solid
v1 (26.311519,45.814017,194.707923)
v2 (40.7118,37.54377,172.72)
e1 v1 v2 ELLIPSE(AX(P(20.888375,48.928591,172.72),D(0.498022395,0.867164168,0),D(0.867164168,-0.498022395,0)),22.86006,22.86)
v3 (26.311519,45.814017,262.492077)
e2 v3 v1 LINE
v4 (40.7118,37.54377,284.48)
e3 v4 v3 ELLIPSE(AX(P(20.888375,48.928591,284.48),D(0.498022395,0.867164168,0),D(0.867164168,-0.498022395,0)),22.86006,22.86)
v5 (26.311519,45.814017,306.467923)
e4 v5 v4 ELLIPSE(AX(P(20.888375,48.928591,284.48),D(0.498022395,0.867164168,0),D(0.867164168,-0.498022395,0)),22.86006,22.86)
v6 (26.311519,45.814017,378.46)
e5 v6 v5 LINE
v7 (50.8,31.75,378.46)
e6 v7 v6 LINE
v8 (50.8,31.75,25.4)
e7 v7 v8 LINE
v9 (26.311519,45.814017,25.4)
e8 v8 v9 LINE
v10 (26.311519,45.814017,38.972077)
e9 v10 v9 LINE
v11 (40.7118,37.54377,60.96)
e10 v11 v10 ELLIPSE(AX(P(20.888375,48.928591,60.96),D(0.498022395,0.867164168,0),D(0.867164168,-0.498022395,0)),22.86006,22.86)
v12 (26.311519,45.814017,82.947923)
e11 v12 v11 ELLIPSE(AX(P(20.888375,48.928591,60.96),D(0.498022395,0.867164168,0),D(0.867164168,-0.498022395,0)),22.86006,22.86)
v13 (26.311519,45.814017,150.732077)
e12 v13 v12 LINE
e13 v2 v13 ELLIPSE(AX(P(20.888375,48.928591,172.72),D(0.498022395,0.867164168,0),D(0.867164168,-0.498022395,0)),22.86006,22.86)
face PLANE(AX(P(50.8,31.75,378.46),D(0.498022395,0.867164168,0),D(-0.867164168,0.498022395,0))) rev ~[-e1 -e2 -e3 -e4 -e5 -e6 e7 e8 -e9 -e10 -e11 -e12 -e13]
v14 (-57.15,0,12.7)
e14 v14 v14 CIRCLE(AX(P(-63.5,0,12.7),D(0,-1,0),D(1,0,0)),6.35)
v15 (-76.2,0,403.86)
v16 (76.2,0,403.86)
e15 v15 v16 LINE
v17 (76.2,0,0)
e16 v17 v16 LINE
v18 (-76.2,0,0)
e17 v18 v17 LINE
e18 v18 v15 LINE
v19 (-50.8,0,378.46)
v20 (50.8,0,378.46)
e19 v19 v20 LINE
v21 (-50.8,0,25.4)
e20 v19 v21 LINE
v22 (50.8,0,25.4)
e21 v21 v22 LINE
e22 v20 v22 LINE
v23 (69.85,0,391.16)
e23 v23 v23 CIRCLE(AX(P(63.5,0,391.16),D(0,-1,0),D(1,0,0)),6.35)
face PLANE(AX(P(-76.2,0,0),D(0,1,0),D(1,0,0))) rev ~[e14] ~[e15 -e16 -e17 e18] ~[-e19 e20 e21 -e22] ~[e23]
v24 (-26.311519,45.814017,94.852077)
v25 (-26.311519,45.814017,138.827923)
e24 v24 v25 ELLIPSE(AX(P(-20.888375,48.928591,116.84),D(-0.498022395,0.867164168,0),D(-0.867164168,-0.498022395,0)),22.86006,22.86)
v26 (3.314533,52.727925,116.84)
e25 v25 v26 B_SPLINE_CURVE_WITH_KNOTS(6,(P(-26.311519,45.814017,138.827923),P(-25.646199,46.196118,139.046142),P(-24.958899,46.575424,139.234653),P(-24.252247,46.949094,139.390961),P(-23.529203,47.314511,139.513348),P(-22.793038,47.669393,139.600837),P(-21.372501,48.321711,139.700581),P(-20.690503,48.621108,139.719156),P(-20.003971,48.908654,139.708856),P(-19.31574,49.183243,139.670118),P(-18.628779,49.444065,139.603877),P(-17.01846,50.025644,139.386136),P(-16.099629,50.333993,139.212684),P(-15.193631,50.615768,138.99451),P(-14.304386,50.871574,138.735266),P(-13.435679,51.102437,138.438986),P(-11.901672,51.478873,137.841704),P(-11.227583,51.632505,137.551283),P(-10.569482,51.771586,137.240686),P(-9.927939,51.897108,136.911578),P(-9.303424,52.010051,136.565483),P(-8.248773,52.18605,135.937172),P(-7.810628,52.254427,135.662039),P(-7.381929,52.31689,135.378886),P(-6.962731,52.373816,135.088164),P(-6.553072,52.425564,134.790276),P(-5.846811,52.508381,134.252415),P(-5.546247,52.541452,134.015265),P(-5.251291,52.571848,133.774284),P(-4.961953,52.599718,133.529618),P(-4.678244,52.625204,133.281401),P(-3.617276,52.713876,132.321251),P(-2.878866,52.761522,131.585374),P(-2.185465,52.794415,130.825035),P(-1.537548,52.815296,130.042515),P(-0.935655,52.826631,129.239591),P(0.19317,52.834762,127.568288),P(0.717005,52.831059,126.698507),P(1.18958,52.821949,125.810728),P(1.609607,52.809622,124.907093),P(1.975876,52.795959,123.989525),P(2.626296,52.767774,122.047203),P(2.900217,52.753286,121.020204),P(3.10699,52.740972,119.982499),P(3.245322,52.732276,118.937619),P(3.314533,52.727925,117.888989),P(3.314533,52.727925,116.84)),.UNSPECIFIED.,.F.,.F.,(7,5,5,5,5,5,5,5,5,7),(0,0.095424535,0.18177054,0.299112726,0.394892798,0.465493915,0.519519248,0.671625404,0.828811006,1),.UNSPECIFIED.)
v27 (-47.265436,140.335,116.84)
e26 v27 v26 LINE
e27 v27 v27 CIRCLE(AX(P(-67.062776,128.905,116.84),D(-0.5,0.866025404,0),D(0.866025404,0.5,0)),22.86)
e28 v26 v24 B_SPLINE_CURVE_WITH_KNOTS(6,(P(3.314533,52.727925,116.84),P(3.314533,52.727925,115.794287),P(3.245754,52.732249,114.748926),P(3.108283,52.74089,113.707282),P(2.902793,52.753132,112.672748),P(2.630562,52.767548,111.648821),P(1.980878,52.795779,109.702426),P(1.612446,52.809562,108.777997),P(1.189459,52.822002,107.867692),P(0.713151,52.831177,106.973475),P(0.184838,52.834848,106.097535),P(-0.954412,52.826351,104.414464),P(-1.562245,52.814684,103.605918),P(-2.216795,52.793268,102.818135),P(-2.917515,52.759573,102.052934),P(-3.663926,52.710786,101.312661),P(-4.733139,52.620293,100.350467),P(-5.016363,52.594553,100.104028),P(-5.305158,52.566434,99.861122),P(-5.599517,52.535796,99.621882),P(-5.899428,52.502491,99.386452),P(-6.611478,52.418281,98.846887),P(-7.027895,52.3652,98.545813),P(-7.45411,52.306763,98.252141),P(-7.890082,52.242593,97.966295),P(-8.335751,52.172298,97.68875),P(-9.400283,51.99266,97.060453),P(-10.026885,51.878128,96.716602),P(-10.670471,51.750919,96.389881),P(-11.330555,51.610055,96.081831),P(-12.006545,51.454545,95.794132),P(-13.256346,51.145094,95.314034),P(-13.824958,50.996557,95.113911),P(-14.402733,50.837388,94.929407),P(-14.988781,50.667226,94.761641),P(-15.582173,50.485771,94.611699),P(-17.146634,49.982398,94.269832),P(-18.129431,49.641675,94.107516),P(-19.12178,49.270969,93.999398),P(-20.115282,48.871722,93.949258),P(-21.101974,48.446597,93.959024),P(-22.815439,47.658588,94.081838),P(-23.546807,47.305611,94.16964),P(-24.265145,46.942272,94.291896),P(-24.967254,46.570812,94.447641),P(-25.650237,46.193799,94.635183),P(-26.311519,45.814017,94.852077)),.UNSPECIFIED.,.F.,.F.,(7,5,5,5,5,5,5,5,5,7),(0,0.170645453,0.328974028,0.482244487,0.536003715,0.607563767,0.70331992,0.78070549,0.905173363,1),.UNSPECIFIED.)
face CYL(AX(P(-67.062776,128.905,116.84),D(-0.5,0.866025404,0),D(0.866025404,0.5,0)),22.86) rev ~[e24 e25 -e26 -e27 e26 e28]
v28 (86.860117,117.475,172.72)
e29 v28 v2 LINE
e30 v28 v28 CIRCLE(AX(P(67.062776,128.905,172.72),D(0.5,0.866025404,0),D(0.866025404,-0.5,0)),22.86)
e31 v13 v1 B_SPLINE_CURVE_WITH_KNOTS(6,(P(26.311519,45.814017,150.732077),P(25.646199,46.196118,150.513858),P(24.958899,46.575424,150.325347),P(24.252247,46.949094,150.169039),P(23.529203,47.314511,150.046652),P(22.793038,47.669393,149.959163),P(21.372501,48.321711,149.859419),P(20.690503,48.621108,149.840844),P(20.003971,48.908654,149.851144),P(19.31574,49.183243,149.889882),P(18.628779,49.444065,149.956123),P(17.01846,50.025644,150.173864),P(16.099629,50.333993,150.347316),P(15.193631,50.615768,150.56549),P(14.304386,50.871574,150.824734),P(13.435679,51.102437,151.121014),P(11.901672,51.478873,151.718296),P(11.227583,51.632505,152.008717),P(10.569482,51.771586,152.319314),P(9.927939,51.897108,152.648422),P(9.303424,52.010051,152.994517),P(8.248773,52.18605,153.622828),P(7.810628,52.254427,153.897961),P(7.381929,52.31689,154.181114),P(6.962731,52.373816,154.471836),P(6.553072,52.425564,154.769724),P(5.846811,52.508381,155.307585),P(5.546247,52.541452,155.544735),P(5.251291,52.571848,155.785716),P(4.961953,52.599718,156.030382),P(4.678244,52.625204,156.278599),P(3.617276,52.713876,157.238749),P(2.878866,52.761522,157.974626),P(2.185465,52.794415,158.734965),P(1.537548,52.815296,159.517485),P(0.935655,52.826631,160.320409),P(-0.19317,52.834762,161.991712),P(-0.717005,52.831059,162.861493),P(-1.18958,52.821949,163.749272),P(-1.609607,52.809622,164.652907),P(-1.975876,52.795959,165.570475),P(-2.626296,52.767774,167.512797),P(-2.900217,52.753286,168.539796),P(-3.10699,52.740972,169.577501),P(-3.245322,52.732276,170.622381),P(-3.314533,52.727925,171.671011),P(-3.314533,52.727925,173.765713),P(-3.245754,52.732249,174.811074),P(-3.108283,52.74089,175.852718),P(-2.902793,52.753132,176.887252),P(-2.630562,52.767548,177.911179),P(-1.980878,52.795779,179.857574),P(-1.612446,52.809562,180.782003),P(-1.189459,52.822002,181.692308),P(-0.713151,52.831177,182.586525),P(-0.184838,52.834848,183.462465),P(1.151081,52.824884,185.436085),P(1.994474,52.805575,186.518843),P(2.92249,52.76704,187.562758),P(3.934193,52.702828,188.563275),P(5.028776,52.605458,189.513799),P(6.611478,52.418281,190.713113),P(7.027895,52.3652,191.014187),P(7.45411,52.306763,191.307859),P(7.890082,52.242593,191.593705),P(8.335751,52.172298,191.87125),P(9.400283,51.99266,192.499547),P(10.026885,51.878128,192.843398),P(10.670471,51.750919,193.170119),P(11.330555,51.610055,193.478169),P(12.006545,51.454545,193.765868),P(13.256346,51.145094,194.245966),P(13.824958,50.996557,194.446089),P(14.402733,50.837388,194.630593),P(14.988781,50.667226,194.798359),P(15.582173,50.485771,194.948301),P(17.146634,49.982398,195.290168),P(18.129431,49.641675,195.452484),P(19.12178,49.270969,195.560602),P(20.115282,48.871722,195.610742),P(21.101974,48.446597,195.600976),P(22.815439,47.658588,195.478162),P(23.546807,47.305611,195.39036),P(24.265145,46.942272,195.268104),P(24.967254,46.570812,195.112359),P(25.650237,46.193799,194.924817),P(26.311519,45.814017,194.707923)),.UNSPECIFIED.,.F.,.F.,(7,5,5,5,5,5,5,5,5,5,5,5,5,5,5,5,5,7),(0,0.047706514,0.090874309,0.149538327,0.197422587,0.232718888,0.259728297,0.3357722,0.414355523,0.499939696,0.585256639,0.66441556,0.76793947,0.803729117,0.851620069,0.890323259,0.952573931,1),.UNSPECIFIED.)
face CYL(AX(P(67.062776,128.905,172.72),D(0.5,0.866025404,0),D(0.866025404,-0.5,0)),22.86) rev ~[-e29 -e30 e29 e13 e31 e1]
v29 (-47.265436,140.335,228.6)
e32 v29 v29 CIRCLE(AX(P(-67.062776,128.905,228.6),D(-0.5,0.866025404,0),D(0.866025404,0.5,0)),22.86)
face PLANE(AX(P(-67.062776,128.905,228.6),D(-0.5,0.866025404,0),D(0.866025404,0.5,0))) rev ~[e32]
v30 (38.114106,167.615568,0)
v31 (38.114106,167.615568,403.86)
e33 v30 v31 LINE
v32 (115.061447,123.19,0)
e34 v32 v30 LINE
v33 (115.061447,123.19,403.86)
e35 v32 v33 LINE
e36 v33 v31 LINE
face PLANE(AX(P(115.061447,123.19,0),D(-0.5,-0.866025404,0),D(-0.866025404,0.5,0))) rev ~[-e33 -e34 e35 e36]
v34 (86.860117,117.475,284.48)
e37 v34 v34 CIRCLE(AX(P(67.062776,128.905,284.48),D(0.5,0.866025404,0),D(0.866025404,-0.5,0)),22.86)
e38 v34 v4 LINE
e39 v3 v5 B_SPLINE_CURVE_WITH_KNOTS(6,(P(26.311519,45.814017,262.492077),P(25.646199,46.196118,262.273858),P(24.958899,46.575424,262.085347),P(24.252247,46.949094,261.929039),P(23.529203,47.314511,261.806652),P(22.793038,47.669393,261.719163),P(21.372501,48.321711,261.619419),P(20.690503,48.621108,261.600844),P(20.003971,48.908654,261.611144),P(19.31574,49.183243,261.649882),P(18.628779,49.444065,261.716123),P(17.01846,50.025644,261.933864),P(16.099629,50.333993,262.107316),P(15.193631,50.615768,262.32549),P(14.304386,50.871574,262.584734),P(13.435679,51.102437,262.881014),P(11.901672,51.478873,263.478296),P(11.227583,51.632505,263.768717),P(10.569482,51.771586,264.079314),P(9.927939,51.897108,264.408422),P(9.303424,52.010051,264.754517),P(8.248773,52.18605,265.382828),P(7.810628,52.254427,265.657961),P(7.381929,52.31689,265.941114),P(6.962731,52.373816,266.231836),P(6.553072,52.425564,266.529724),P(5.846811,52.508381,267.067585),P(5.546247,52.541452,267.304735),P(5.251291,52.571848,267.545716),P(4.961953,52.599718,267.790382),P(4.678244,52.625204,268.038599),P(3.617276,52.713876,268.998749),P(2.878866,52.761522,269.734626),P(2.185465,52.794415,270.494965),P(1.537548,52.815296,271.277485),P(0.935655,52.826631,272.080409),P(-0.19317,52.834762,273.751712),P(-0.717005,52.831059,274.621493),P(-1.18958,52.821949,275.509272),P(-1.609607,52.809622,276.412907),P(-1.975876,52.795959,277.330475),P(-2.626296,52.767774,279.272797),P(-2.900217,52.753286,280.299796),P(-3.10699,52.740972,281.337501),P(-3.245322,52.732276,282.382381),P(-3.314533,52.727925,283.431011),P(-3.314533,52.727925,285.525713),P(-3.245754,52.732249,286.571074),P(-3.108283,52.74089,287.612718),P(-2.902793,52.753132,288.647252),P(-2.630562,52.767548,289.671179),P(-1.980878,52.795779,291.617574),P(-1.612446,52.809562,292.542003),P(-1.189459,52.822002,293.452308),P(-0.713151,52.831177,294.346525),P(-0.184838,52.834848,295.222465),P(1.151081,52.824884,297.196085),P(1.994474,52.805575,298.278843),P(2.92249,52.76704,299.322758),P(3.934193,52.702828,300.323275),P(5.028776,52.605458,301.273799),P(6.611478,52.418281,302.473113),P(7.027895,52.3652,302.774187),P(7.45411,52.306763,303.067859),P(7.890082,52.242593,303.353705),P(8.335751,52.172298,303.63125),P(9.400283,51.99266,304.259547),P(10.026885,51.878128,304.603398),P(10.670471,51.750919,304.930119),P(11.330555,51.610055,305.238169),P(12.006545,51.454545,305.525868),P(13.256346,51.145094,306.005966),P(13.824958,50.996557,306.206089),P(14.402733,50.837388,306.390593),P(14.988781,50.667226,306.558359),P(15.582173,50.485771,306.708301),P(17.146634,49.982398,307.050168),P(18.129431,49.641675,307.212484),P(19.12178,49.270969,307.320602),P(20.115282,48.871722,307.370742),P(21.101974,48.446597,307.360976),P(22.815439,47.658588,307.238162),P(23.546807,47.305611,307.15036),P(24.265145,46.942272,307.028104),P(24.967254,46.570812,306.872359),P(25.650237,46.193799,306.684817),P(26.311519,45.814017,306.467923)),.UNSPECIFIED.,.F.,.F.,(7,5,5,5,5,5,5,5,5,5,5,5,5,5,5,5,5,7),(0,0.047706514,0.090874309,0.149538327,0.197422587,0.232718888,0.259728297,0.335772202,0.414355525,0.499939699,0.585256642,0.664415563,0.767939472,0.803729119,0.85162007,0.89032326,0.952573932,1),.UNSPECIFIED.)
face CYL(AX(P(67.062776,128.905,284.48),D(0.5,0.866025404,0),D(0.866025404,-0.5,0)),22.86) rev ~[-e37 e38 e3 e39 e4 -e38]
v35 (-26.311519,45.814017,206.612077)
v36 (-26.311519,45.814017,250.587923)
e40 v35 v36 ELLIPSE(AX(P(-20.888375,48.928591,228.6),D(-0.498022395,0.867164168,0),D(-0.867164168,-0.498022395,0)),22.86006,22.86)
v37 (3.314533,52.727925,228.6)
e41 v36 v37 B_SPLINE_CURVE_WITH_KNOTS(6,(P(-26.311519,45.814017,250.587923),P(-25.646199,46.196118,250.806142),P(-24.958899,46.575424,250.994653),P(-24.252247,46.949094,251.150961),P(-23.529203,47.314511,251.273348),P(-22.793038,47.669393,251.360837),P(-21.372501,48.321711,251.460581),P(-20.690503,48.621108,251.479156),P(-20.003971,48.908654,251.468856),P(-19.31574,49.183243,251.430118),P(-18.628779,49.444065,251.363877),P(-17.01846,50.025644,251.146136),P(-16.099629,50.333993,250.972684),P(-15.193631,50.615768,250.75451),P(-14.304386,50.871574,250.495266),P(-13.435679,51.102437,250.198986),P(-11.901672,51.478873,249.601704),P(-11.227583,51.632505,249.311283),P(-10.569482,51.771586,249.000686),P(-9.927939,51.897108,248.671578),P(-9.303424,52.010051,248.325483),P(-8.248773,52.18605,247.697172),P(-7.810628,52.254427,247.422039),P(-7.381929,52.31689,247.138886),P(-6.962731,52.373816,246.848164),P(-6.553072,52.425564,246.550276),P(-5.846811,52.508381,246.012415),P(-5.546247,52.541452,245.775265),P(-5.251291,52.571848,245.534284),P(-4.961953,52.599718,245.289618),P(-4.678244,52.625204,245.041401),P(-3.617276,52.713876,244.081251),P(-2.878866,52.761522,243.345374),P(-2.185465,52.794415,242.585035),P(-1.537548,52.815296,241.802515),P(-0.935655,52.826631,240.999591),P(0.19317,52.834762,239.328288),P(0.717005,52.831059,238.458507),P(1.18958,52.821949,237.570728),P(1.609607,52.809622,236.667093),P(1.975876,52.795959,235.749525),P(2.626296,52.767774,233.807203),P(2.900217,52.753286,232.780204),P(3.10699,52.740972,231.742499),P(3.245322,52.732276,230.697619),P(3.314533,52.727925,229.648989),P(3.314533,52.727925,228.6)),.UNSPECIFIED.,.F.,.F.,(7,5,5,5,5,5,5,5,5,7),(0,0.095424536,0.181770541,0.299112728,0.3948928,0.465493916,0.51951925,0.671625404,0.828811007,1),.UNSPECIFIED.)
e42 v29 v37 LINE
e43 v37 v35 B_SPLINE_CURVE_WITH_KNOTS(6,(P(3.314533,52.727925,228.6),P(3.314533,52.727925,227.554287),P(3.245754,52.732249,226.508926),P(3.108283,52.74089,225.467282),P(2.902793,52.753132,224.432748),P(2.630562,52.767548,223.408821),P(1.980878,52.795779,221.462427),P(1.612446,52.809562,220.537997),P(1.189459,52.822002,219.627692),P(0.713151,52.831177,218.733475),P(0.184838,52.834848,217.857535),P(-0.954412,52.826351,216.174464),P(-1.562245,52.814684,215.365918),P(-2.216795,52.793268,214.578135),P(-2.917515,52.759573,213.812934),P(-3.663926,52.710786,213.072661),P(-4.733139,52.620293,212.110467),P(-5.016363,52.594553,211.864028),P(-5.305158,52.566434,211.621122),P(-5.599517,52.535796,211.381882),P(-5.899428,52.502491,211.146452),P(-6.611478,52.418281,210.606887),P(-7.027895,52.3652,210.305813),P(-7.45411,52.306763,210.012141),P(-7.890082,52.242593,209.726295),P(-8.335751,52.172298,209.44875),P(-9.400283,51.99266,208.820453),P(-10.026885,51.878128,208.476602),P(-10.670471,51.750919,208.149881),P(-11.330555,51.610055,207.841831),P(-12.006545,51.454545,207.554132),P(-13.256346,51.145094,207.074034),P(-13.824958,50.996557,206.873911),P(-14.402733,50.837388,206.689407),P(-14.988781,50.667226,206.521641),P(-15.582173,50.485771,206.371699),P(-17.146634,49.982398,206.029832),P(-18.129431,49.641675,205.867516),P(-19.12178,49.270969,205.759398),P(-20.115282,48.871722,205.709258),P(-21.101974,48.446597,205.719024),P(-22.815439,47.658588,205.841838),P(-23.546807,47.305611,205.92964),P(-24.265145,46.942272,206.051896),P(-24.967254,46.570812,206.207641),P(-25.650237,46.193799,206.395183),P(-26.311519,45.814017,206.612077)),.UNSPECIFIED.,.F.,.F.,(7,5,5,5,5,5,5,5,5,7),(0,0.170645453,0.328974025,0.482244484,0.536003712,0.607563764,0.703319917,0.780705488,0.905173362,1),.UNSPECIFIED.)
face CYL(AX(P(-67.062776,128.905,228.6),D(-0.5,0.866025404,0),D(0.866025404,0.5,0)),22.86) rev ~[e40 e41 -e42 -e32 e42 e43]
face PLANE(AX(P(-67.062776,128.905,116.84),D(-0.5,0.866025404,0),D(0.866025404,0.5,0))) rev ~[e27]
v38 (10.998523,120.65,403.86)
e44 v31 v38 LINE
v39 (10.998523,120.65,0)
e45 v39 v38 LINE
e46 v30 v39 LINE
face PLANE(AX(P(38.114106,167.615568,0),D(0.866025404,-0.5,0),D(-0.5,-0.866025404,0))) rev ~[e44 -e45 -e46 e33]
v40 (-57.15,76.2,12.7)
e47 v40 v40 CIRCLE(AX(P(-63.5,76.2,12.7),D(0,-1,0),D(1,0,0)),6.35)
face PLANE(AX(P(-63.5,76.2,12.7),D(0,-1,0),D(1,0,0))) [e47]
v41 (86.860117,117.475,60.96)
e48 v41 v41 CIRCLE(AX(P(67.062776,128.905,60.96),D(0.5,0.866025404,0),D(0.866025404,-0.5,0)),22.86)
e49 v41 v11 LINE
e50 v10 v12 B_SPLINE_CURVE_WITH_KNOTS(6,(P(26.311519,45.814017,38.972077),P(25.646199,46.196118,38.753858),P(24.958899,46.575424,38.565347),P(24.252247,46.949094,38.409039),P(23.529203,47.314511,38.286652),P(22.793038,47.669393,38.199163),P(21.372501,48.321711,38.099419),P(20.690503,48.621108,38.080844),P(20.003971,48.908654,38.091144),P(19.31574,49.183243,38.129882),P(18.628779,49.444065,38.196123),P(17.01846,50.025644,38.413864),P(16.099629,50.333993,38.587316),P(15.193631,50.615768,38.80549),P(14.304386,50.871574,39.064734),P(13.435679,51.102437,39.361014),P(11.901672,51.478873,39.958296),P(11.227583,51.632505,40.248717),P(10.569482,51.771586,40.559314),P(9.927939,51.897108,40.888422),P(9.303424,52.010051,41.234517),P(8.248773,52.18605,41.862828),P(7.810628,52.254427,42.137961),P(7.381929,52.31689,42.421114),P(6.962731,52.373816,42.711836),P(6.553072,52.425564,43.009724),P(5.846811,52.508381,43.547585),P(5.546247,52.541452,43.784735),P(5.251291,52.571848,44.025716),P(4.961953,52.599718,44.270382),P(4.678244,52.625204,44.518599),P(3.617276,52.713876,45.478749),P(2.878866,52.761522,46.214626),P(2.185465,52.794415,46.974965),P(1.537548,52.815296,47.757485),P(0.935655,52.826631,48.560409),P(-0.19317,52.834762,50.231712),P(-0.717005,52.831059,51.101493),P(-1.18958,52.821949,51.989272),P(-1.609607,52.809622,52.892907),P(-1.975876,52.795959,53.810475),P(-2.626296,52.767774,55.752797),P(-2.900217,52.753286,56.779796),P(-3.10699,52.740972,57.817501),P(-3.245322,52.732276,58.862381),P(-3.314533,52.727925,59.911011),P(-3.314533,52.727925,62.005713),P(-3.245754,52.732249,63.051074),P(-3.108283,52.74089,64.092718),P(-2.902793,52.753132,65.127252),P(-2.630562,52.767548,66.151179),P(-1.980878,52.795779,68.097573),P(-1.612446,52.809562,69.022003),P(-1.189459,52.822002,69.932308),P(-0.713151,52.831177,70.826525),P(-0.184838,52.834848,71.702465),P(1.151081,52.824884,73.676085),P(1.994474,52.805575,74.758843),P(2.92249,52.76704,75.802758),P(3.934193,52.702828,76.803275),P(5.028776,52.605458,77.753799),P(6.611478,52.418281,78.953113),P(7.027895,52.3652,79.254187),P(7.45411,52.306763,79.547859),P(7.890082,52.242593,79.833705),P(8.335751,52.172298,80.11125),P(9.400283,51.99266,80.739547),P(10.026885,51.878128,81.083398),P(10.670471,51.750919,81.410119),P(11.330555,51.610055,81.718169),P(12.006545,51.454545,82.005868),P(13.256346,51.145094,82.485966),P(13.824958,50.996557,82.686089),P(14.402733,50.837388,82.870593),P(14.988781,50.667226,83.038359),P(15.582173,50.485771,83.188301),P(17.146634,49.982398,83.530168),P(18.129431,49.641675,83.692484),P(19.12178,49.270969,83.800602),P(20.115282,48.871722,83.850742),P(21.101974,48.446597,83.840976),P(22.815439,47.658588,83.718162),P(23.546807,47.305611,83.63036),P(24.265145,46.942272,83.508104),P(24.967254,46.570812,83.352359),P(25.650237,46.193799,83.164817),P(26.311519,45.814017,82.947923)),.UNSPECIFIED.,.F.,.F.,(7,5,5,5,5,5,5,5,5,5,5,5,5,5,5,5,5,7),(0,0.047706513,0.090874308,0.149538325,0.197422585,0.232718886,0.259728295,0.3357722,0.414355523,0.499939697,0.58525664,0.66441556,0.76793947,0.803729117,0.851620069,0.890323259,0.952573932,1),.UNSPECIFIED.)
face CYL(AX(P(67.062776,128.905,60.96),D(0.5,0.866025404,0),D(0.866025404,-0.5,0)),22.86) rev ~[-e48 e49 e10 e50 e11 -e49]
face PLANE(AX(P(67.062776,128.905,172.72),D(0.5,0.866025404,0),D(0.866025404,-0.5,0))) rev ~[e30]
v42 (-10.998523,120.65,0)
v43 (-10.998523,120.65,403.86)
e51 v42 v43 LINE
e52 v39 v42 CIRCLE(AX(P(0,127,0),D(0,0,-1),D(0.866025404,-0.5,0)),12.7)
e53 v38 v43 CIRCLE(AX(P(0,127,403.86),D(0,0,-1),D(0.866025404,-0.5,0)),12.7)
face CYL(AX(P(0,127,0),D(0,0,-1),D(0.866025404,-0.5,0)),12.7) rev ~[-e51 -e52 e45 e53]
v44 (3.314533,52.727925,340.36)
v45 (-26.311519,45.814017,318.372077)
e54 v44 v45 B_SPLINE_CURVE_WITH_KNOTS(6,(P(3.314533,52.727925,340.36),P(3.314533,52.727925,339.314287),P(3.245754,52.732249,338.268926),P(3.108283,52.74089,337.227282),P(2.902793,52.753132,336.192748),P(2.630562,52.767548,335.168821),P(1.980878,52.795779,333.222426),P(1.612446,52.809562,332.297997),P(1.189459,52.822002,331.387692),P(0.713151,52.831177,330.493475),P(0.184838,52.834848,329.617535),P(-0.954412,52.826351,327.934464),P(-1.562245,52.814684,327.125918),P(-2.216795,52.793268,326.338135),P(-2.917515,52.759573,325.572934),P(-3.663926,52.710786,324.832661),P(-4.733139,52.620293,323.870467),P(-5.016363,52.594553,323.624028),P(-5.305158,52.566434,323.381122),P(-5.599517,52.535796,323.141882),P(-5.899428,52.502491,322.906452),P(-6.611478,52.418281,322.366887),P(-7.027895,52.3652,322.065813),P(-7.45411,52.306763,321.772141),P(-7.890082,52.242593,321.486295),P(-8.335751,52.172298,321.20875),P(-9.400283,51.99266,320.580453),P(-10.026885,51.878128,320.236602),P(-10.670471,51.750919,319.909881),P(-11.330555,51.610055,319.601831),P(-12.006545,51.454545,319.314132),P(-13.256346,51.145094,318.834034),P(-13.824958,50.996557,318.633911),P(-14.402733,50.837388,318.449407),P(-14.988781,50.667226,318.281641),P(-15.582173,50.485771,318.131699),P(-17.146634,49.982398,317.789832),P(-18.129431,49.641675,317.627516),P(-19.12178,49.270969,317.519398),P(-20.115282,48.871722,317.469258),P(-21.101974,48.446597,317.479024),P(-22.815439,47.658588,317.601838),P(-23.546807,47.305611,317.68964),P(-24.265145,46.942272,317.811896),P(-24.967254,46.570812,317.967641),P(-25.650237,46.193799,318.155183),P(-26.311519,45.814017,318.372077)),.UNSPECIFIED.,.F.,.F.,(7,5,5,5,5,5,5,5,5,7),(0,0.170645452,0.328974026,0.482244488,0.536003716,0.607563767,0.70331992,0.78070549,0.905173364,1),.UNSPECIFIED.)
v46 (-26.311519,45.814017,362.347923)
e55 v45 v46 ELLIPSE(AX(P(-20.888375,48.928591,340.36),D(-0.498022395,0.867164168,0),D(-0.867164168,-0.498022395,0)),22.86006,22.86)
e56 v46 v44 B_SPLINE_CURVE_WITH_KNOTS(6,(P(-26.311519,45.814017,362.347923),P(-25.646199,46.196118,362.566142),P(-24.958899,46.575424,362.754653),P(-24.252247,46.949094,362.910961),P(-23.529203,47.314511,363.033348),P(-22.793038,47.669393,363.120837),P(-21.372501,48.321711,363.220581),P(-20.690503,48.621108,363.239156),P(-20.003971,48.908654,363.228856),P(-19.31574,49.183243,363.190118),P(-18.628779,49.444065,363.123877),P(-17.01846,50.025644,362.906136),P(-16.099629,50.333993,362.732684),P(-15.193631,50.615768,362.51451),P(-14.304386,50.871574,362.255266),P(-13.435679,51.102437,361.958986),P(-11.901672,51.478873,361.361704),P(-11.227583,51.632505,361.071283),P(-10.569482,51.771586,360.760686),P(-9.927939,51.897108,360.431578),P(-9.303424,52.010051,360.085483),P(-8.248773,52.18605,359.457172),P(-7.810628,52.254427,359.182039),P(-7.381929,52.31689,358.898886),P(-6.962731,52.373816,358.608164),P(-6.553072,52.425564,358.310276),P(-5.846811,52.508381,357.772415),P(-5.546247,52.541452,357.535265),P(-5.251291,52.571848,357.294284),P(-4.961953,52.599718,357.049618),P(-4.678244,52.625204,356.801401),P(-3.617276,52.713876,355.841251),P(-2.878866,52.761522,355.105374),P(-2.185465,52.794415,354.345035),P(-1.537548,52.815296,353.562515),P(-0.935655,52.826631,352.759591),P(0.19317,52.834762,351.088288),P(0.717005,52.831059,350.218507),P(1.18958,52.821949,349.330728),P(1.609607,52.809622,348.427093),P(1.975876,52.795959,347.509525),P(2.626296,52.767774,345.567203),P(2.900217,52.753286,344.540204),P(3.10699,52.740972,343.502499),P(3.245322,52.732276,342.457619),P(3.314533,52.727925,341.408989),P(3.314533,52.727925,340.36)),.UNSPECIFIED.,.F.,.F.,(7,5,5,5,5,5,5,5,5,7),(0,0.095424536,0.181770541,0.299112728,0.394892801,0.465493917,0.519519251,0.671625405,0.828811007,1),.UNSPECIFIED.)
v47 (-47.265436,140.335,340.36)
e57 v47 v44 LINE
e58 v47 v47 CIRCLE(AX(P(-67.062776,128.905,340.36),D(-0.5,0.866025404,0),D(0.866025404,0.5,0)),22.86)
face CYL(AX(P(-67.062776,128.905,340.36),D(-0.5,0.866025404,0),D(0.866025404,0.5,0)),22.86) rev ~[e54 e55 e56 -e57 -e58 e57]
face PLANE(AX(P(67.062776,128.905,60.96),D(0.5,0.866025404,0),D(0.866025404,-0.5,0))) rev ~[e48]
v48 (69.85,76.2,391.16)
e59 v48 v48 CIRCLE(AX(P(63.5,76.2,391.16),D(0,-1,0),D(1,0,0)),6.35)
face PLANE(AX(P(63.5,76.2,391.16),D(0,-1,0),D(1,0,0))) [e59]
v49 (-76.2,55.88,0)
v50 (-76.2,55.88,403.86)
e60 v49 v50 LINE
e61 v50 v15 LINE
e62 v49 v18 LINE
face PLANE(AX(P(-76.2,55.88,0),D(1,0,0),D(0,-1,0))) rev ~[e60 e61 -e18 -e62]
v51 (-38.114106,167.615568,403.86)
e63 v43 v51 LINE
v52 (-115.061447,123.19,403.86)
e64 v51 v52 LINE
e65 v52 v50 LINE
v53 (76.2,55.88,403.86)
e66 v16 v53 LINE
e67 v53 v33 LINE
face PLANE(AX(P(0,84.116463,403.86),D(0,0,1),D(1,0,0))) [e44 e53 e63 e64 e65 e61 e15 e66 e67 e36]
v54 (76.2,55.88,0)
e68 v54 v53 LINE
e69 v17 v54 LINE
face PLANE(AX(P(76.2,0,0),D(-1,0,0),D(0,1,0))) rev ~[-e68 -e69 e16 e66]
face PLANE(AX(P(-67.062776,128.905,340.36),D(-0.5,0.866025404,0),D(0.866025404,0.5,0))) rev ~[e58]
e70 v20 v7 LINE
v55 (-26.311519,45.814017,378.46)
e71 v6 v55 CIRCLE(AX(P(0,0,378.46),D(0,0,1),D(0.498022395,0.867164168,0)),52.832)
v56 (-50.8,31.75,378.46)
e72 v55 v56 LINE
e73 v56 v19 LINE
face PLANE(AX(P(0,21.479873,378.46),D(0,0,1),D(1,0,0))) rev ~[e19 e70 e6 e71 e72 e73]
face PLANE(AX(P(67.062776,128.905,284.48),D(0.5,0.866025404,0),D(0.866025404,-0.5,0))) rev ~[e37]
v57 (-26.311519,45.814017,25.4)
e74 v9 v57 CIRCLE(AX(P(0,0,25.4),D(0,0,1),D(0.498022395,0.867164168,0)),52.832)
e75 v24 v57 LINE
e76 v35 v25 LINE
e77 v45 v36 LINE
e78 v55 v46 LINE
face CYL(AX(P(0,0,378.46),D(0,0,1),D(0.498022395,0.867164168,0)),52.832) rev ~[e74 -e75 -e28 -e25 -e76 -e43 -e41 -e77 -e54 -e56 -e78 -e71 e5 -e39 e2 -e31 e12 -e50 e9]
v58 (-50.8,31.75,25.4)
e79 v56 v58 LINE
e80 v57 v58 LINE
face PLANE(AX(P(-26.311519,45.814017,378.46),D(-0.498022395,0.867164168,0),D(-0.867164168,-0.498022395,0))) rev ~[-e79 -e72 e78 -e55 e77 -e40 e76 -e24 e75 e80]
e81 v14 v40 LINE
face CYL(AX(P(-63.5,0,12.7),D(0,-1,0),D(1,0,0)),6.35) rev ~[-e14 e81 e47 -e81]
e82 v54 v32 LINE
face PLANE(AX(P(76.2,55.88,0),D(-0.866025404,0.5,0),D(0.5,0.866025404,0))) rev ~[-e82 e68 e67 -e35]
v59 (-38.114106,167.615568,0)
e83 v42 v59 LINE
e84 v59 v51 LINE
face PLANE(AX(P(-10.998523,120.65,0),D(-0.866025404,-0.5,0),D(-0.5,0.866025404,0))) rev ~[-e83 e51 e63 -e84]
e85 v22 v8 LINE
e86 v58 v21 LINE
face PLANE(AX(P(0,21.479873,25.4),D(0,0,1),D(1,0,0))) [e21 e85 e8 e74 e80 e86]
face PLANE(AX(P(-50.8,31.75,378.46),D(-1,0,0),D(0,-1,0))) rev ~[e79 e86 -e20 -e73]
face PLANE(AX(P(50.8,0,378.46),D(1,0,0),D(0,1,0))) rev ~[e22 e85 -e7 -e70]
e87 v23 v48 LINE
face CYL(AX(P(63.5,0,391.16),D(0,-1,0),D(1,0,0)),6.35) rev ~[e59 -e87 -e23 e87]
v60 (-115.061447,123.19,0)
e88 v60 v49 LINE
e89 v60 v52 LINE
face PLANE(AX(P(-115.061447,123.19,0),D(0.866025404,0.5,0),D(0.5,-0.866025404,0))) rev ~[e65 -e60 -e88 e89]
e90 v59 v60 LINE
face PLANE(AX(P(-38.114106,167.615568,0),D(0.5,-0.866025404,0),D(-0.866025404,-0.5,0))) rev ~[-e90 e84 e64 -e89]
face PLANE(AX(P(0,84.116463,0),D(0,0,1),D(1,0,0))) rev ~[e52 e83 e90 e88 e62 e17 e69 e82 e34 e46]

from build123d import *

# Parameters (mm, degrees)
BOSS_EXTRUDE1_DEPTH = 403.86
CUT_EXTRUDE1_START  = -19.05
SKETCH3_R           = 22.86
CUT_EXTRUDE1_DEPTH  = 403.86
CUT_EXTRUDE2_START  = -19.05
SKETCH2_R           = 22.86
CUT_EXTRUDE2_DEPTH  = 403.86
CUT_EXTRUDE3_START  = -25.4
CUT_EXTRUDE3_DEPTH  = 353.06
SKETCH7_R           = 6.35
CUT_EXTRUDE4_DEPTH  = 76.2


with BuildPart() as part:
    # Sketch1 → Boss-Extrude1 (new body)
    with BuildSketch(Plane.XY):
        with BuildLine():
            ThreePointArc((10.998522628, 120.65), (0, 114.3), (-10.998522628, 120.65))
            Line((-10.998522628, 120.65), (-38.114105889, 167.615567884))
            Line((-38.114105889, 167.615567884), (-115.061446619, 123.19))
            Line((-115.061446619, 123.19), (-76.2, 55.88))
            Line((-76.2, 55.88), (-76.2, 0))
            Line((-76.2, 0), (76.2, 0))
            Line((76.2, 0), (76.2, 55.88))
            Line((76.2, 55.88), (115.061446619, 123.19))
            Line((115.061446619, 123.19), (38.114105889, 167.615567884))
            Line((38.114105889, 167.615567884), (10.998522628, 120.65))
        make_face()
    extrude(amount=BOSS_EXTRUDE1_DEPTH)

    # Sketch3 → Cut-Extrude1 (cut)
    with BuildSketch(Plane(origin=(-82.108196401, 142.215567884, 0), x_dir=(0.866025404, 0.5, 0), z_dir=(-0.5, 0.866025404, 0)).offset(CUT_EXTRUDE1_START)):
        with Locations((6.374432116, -340.36)):
            Circle(SKETCH3_R)
        with Locations((6.374432116, -228.6)):
            Circle(SKETCH3_R)
        with Locations((6.374432116, -116.84)):
            Circle(SKETCH3_R)
    extrude(amount=-CUT_EXTRUDE1_DEPTH, mode=Mode.SUBTRACT)

    # Sketch2 → Cut-Extrude2 (cut)
    with BuildSketch(Plane(origin=(82.108196401, 142.215567884, 0), x_dir=(0.866025404, -0.5, 0), z_dir=(0.5, 0.866025404, 0)).offset(CUT_EXTRUDE2_START)):
        with Locations((-6.374432116, -284.48)):
            Circle(SKETCH2_R)
        with Locations((-6.374432116, -172.72)):
            Circle(SKETCH2_R)
        with Locations((-6.374432116, -60.96)):
            Circle(SKETCH2_R)
    extrude(amount=-CUT_EXTRUDE2_DEPTH, mode=Mode.SUBTRACT)

    # Sketch6 → Cut-Extrude3 (cut)
    with BuildSketch(Plane.XY.offset(403.86).offset(CUT_EXTRUDE3_START)):
        with BuildLine():
            Line((50.8, 0), (50.8, 31.75))
            Line((50.8, 31.75), (26.311519178, 45.814017315))
            ThreePointArc((26.311519178, 45.814017315), (0, 52.832), (-26.311519178, 45.814017315))
            Line((-26.311519178, 45.814017315), (-50.8, 31.75))
            Line((-50.8, 31.75), (-50.8, 0))
            Line((-50.8, 0), (50.8, 0))
        make_face()
    extrude(amount=-CUT_EXTRUDE3_DEPTH, mode=Mode.SUBTRACT)

    # Sketch7 → Cut-Extrude4 (cut)
    with BuildSketch(Plane.XZ):
        with Locations((63.5, 391.16)):
            Circle(SKETCH7_R)
        with Locations((-63.5, 12.7)):
            Circle(SKETCH7_R)
    extrude(amount=-CUT_EXTRUDE4_DEPTH, mode=Mode.SUBTRACT)


solid = part.part
